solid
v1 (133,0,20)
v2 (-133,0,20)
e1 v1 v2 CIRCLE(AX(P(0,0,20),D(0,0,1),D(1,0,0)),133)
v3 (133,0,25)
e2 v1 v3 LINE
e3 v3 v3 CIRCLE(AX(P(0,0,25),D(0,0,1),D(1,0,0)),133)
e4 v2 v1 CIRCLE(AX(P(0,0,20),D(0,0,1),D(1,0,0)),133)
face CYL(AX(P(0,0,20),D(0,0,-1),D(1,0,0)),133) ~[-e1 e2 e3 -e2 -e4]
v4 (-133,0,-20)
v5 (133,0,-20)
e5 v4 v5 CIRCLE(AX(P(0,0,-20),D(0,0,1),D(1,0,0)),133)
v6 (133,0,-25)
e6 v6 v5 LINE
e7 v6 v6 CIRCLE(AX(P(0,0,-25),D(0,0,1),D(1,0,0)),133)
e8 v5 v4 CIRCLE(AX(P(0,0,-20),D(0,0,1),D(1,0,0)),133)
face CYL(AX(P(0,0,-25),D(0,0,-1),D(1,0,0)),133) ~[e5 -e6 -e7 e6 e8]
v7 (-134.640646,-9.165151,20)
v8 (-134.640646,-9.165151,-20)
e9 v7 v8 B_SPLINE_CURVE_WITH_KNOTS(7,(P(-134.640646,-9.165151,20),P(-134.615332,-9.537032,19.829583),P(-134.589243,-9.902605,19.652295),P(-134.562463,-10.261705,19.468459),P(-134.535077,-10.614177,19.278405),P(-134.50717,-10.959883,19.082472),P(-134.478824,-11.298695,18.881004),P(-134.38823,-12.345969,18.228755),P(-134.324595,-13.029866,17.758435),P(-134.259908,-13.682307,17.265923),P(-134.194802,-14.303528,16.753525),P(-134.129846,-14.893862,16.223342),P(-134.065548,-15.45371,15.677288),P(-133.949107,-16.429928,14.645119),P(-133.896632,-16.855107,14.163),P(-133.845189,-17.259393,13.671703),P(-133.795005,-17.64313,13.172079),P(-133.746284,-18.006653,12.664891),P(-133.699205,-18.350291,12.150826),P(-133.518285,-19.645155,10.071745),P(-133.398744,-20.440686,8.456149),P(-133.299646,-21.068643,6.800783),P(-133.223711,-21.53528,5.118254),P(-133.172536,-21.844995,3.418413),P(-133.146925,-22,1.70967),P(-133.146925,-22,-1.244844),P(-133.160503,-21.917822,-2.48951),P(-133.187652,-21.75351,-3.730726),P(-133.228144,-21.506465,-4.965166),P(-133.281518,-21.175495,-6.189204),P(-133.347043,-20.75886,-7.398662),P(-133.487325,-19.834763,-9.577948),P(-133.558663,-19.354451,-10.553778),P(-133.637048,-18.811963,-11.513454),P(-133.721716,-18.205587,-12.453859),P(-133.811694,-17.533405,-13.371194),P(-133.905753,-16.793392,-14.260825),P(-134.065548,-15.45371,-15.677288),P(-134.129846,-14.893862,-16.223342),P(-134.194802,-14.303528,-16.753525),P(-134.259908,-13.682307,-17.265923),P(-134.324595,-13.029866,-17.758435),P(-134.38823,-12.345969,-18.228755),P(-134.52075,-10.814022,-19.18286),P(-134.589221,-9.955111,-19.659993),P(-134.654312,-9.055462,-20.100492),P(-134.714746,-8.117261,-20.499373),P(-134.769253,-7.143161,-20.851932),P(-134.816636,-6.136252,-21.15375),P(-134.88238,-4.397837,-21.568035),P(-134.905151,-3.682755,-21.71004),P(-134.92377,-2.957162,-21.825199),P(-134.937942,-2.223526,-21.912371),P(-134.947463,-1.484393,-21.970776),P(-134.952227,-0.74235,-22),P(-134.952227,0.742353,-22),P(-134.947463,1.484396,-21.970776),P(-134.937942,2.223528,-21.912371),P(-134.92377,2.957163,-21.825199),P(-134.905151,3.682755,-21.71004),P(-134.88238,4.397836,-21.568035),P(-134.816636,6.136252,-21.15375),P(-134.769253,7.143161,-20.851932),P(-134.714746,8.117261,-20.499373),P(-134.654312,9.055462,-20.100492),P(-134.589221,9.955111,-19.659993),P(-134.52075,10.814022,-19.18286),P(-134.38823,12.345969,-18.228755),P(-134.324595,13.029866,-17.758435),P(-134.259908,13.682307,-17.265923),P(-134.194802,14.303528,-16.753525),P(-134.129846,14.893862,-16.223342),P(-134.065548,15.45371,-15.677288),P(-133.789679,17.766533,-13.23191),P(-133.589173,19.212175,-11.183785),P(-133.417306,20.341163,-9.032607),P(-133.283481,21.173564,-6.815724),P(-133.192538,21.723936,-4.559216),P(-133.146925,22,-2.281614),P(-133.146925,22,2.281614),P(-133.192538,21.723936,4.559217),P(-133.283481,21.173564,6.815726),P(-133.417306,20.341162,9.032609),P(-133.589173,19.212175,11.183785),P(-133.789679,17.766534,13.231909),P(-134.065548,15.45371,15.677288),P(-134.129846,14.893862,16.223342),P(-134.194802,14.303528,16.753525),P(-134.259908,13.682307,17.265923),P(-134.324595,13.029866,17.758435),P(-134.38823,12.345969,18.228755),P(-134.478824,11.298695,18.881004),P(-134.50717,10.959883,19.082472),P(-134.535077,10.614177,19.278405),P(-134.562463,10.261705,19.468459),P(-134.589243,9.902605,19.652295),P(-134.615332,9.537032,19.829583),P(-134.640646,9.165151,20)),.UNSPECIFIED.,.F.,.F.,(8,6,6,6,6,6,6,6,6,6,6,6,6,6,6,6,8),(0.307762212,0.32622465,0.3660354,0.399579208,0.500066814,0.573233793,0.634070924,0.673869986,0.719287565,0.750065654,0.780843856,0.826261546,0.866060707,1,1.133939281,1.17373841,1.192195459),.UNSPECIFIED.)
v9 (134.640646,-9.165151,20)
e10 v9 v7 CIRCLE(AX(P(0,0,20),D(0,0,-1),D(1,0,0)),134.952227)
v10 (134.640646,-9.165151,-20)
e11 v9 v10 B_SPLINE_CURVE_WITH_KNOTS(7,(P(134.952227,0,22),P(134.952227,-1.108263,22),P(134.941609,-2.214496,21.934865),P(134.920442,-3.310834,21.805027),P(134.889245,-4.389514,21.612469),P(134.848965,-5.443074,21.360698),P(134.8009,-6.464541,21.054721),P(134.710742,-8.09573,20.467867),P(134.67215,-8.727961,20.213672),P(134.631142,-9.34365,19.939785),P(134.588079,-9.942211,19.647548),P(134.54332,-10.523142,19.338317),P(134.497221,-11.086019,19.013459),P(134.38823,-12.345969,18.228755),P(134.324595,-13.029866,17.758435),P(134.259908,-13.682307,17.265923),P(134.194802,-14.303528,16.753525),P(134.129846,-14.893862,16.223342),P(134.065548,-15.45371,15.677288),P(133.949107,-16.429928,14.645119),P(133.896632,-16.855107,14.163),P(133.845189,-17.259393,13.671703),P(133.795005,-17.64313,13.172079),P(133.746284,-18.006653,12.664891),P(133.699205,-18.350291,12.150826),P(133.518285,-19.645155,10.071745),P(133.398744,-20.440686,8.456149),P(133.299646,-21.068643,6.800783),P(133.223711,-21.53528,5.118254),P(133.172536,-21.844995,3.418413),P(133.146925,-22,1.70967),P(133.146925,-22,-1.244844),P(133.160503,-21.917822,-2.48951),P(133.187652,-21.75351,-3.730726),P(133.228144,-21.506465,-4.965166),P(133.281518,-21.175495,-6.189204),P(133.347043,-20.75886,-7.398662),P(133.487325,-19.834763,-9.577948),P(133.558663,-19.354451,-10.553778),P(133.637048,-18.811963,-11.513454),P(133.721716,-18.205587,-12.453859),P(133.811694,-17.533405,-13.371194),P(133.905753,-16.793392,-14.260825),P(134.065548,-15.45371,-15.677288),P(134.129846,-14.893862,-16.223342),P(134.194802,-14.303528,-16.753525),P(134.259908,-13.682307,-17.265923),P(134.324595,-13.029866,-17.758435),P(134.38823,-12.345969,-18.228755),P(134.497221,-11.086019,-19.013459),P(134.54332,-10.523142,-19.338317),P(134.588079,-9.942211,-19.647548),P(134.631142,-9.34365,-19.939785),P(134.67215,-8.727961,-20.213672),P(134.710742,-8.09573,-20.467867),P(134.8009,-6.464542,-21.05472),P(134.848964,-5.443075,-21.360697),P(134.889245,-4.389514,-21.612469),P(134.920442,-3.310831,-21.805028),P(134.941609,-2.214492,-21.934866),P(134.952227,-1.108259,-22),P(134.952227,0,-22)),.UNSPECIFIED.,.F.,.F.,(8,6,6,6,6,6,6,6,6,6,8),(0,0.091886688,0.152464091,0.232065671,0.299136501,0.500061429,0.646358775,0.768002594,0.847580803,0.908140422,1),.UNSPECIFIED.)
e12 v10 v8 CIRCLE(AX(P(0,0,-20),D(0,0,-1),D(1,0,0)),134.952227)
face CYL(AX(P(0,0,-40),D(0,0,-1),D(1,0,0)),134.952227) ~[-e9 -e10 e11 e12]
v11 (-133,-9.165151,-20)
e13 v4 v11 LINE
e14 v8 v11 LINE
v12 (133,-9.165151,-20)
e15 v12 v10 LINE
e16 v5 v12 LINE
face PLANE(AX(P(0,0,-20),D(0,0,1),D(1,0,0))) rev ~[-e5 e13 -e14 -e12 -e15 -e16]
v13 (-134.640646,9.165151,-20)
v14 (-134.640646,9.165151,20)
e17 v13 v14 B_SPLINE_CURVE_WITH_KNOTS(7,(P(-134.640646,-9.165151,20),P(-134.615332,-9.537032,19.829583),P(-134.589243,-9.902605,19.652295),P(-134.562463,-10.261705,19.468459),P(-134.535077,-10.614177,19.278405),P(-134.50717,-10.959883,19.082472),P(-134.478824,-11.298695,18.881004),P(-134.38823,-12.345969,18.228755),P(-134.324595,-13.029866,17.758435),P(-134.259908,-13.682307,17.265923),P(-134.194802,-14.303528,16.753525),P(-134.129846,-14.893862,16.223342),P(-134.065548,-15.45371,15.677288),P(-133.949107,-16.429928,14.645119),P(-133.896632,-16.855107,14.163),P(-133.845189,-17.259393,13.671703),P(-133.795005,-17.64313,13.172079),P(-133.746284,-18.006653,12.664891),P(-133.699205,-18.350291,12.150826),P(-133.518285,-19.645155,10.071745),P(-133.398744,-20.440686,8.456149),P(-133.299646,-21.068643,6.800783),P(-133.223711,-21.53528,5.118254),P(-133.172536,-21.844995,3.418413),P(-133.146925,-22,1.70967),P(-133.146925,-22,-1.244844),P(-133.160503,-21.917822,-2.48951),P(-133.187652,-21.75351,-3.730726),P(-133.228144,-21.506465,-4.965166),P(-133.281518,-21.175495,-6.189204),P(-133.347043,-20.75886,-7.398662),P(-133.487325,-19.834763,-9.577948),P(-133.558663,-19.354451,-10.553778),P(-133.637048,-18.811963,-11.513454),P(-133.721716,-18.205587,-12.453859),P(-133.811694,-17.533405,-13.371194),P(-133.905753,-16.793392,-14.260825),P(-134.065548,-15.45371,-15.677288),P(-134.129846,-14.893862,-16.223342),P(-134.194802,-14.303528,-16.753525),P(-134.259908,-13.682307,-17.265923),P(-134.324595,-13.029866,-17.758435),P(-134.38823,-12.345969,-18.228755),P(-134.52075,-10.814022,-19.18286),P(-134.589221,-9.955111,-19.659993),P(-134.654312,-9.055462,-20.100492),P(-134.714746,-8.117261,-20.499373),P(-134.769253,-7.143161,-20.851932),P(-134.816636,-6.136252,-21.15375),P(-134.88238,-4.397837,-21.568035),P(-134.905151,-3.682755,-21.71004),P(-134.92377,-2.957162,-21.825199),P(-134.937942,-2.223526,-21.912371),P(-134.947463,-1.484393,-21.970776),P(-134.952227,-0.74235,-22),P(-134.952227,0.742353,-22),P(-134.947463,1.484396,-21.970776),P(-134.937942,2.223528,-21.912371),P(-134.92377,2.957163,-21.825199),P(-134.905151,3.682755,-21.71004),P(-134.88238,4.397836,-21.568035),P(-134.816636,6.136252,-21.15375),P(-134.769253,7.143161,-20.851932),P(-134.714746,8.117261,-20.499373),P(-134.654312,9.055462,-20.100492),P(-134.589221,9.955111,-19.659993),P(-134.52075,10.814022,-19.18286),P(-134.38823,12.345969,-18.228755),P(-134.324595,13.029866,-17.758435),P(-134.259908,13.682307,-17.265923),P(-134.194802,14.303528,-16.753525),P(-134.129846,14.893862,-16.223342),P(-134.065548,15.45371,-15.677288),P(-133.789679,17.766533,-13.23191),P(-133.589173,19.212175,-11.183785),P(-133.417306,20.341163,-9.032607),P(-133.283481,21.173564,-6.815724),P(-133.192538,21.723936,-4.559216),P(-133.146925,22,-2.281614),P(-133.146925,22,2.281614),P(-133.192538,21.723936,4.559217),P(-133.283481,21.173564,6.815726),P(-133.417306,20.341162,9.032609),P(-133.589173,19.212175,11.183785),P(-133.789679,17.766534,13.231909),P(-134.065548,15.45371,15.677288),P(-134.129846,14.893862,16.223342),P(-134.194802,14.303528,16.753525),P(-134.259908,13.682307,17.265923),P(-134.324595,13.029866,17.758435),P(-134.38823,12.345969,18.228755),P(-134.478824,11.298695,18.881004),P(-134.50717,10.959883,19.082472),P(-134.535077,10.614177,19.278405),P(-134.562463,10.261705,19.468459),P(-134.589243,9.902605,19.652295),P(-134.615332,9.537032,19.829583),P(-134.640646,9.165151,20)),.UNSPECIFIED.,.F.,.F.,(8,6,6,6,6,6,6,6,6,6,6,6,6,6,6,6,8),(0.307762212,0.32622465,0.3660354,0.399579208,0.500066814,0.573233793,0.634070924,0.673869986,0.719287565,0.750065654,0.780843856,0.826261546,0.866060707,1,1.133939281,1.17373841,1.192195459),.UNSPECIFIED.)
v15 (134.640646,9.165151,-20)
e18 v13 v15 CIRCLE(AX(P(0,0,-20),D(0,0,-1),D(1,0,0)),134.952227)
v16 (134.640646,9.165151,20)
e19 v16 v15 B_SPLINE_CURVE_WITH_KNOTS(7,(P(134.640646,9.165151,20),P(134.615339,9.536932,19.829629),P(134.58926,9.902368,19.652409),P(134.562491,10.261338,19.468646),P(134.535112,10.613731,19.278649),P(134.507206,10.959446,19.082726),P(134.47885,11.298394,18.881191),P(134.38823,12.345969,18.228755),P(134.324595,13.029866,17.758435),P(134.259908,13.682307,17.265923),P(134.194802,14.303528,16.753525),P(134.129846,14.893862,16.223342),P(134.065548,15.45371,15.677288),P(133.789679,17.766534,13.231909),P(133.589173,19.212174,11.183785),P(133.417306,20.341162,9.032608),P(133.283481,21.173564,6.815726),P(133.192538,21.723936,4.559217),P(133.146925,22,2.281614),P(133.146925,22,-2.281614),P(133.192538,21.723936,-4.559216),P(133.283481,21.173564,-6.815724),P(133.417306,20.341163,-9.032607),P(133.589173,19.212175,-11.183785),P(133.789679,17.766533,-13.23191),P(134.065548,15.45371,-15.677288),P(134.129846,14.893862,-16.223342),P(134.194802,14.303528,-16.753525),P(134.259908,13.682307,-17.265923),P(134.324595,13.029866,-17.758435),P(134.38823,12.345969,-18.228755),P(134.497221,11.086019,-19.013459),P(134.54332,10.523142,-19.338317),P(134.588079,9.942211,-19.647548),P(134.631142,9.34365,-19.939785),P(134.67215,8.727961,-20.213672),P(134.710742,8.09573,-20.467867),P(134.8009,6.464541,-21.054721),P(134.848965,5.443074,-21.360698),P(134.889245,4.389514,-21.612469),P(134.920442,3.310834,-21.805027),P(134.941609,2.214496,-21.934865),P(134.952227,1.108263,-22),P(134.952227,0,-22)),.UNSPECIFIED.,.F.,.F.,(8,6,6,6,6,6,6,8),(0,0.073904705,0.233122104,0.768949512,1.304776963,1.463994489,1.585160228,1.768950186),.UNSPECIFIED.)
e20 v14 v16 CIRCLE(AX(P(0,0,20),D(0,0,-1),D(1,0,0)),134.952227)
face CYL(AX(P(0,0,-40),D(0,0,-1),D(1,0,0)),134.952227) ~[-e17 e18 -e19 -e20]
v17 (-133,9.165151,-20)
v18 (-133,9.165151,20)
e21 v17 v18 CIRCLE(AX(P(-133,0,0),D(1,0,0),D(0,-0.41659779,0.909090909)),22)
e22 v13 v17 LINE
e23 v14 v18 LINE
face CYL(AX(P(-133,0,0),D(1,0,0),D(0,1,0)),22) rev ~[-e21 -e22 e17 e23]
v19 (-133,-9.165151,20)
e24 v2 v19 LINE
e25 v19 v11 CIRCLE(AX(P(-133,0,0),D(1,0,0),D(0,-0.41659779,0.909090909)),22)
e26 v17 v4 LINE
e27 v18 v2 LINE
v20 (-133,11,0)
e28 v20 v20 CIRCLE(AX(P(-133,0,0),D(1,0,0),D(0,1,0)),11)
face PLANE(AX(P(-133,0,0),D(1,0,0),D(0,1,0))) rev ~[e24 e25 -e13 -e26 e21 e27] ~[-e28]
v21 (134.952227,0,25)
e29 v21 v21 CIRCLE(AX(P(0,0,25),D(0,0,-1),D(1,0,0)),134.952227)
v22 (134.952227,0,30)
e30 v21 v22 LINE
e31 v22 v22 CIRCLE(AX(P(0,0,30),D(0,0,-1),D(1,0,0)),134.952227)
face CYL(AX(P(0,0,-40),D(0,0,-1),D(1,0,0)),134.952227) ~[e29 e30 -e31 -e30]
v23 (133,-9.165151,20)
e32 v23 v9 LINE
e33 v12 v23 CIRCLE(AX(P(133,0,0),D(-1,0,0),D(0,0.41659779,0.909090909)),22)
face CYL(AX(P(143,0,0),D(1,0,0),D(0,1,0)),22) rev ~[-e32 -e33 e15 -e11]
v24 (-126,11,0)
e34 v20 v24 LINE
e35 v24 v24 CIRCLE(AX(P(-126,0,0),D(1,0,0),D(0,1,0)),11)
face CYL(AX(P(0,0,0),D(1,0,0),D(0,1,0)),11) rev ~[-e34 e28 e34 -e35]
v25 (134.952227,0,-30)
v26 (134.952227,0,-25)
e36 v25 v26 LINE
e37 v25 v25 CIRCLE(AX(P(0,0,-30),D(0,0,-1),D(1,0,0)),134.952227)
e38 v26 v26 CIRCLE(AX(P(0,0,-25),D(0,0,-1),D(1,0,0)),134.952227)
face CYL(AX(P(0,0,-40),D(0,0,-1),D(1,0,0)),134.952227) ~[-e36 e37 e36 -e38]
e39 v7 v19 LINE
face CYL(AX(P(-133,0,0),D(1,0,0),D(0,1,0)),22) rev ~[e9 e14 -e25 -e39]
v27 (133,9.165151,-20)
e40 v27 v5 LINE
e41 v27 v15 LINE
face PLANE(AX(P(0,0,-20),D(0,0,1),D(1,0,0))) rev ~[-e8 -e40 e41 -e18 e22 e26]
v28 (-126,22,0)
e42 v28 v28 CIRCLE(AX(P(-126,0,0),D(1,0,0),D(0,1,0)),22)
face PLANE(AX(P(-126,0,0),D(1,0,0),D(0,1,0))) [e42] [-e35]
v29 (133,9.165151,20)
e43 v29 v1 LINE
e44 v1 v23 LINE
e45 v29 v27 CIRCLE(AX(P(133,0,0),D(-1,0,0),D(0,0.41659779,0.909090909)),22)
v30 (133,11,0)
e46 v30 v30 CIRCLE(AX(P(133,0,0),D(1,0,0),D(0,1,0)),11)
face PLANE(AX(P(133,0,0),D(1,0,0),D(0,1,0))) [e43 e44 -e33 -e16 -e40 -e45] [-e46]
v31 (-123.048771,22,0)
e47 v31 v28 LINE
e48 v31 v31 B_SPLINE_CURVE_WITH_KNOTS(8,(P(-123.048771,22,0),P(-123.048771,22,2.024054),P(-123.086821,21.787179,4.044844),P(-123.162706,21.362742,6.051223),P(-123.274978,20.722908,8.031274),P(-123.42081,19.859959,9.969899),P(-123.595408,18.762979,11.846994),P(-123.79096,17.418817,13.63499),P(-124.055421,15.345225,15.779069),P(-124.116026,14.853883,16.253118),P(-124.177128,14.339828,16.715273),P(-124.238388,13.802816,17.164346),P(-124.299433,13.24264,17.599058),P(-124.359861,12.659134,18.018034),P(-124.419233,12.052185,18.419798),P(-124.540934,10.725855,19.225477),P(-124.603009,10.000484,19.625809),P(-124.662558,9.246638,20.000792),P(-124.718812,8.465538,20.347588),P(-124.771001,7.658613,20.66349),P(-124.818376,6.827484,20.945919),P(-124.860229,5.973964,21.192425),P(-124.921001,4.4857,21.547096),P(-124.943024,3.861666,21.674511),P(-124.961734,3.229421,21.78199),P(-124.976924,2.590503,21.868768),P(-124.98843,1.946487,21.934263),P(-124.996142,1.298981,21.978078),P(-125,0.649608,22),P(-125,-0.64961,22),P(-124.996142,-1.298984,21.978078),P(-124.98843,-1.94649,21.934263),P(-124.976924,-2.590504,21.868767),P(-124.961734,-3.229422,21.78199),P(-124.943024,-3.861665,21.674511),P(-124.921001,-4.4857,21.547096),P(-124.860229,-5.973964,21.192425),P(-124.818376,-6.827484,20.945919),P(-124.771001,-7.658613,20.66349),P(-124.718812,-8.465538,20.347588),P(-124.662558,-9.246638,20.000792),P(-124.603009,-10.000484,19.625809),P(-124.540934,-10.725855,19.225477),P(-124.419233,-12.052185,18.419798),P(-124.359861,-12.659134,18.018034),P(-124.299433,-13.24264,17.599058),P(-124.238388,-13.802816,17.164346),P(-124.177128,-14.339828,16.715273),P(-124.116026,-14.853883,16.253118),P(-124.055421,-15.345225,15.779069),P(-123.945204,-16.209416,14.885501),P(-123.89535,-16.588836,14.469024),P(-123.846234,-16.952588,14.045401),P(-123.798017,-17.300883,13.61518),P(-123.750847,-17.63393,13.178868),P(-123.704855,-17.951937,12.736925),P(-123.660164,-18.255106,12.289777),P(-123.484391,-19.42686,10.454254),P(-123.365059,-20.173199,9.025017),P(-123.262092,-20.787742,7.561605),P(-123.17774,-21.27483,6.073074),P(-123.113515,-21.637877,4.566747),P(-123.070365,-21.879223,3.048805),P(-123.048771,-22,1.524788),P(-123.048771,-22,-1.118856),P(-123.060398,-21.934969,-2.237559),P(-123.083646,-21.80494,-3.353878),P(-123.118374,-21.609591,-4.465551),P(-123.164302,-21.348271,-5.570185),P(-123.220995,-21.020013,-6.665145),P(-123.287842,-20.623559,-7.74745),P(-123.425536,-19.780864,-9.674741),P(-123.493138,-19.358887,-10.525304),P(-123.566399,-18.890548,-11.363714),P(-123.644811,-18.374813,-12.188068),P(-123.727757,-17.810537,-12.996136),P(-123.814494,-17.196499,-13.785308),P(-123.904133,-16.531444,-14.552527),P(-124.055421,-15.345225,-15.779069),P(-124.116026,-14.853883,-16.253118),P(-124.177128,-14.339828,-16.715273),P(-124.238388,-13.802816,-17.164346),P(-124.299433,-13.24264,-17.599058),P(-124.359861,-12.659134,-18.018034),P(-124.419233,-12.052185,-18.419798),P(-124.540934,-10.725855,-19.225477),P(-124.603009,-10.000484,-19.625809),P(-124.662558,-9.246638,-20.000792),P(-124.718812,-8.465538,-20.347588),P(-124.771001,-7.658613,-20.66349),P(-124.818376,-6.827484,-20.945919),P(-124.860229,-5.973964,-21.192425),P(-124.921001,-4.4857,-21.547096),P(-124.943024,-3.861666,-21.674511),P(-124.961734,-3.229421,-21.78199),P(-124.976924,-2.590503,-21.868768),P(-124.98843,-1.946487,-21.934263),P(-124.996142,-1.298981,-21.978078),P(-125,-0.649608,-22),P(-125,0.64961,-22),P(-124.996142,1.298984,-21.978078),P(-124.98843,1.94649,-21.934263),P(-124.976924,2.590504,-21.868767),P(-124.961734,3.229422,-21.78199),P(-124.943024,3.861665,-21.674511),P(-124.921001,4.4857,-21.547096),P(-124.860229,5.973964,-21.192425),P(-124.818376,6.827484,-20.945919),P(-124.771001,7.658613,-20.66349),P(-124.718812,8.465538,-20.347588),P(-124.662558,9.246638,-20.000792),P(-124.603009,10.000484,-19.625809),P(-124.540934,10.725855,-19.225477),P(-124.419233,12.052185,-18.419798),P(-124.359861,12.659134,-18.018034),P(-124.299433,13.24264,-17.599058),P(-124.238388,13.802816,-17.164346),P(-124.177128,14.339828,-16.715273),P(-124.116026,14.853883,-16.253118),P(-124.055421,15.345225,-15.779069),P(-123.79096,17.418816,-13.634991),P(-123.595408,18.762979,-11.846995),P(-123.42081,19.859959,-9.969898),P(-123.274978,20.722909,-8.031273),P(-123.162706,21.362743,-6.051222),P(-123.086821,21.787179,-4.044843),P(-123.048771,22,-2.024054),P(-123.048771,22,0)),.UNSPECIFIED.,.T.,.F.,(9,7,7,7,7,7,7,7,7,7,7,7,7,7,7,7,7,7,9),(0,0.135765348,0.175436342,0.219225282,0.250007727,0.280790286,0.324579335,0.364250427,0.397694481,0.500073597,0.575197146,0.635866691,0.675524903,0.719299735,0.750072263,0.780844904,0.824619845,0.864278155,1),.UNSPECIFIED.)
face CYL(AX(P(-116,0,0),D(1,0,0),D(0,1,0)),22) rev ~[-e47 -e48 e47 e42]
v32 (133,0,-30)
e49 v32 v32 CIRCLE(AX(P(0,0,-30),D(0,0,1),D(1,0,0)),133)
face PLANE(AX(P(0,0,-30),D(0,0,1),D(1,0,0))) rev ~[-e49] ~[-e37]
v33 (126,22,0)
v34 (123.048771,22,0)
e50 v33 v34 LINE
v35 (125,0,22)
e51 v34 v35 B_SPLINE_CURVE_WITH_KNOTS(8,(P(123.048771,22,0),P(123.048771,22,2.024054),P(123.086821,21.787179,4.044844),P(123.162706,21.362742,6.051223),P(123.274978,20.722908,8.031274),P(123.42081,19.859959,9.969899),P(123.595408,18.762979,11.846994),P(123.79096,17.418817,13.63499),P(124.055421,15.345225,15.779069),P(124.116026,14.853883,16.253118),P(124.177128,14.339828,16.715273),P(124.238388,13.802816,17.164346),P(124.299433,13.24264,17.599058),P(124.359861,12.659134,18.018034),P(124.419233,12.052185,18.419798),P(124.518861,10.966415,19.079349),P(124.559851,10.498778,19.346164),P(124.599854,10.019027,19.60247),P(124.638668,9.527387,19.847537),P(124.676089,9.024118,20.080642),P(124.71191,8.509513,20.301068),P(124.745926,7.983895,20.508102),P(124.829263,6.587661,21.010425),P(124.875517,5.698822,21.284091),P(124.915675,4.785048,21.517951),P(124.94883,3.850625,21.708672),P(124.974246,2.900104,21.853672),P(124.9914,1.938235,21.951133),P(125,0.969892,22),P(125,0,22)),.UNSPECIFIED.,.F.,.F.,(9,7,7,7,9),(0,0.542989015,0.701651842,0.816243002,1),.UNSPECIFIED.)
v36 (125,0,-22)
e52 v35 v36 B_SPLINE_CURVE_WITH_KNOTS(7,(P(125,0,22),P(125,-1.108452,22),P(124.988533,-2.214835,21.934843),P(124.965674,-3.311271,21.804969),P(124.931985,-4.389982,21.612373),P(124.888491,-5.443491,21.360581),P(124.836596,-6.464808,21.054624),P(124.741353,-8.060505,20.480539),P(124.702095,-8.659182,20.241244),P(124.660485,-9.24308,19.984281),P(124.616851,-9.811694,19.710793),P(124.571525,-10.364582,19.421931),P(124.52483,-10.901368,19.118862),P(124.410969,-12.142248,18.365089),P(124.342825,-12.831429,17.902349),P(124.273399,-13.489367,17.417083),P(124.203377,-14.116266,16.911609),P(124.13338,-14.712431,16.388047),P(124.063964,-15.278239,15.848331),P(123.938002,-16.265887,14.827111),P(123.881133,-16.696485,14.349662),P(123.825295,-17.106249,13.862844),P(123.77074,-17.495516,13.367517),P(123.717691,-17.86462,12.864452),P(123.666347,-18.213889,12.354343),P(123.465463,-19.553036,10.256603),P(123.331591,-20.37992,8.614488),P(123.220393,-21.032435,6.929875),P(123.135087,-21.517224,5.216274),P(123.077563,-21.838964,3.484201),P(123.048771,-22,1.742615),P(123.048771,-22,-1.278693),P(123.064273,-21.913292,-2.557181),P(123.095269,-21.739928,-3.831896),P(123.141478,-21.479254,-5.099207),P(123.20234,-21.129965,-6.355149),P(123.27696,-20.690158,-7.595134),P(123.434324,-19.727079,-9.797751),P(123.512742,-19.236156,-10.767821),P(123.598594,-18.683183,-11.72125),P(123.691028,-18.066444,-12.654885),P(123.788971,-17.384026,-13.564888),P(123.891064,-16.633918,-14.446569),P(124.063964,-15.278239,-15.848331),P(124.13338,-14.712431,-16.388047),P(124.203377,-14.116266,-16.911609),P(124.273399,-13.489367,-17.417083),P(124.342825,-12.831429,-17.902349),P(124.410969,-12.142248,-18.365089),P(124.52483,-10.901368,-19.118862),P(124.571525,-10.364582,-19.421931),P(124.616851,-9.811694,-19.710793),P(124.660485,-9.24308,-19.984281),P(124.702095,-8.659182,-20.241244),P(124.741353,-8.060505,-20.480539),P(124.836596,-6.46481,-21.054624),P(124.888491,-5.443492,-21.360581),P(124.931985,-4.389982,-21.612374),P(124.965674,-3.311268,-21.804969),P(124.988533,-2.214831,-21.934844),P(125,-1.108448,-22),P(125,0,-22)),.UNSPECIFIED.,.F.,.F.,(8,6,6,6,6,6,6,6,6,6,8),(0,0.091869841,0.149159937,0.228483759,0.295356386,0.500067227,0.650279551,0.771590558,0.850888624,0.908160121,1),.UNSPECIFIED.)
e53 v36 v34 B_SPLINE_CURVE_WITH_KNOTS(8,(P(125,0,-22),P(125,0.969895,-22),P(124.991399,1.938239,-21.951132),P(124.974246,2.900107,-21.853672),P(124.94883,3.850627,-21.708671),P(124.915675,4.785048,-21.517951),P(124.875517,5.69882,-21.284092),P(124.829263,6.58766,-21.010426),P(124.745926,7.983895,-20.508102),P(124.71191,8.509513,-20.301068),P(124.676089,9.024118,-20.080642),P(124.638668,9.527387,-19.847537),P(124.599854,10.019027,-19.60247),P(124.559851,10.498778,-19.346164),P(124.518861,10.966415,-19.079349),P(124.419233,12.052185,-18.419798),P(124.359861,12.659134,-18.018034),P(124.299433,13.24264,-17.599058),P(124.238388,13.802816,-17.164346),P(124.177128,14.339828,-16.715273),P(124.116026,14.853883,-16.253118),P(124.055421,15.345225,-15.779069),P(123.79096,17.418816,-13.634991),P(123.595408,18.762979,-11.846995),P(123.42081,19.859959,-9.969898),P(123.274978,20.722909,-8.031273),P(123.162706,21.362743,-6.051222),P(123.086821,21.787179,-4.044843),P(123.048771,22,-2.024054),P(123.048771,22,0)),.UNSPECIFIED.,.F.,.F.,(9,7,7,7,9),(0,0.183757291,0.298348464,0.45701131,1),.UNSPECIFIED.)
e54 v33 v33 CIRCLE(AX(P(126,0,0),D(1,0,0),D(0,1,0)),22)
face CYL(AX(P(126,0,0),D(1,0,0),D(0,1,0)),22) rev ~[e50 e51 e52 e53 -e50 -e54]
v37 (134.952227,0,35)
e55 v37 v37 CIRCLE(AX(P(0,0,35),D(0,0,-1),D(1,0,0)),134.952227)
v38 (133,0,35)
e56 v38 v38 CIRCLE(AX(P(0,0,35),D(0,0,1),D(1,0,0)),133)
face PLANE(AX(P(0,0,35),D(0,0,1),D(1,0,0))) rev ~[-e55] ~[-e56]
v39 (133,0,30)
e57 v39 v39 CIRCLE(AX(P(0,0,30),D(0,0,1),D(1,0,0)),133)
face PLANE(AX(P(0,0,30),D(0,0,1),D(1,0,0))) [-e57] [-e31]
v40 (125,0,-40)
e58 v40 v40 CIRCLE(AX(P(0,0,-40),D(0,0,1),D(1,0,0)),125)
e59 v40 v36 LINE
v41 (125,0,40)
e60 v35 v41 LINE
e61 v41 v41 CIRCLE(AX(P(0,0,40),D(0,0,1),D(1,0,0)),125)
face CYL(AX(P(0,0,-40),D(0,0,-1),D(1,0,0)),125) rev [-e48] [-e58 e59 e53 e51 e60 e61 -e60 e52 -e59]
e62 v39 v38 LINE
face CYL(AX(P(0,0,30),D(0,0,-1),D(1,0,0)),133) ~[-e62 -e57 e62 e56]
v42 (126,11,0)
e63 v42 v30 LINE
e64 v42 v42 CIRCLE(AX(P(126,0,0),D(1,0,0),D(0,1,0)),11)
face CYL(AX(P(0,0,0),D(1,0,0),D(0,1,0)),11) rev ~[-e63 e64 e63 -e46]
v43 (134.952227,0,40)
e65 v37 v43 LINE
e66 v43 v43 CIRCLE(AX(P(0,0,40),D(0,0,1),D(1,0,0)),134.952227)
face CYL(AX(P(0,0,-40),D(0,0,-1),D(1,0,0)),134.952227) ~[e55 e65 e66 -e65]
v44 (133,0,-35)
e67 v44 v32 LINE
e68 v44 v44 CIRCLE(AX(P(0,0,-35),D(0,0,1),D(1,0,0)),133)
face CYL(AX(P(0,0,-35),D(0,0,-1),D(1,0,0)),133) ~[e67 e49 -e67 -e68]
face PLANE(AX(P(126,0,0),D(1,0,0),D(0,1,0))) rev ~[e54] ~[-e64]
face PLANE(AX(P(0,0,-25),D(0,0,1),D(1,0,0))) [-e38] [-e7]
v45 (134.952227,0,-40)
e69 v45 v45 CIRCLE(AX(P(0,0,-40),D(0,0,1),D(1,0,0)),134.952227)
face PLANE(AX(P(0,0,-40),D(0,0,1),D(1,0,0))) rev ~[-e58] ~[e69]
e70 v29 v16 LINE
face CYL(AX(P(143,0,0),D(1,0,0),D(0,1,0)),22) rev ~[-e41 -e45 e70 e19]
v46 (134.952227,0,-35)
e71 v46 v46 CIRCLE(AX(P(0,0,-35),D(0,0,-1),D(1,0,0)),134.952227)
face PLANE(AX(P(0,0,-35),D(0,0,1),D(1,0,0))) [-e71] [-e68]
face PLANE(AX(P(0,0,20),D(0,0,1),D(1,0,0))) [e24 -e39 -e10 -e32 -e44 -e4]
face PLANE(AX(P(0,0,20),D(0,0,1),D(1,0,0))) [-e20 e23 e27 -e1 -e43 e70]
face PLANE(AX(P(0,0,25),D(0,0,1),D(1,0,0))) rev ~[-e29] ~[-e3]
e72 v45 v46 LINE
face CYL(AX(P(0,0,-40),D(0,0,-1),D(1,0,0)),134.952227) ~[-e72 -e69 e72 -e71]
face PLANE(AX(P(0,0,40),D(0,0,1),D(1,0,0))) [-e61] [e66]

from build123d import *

# Parameters (mm, degrees)
SKETCH005_R      = 140.350312
SKETCH005_R_2    = 133
EXTRUDE011_DEPTH = 5
EXTRUDE010_DEPTH = 5
EXTRUDE008_DEPTH = 5
EXTRUDE009_DEPTH = 5
SKETCH004_R      = 157.293563
EXTRUDE007_DEPTH = 50
SKETCH003_R      = 22
EXTRUDE004_DEPTH = 10
EXTRUDE005_DEPTH = 10
EXTRUDE006_DEPTH = 10
EXTRUDE002_DEPTH = 10
SKETCH002_R      = 11
EXTRUDE_DEPTH    = 150
SKETCH_R         = 134.952227
SKETCH_R_2       = 125
EXTRUDE001_DEPTH = 80


with BuildPart() as extrude011:
    # Sketch005 → Extrude011 (new body)
    with BuildSketch(Plane.XY):
        Circle(SKETCH005_R)
        Circle(SKETCH005_R_2, mode=Mode.SUBTRACT)
    extrude(amount=EXTRUDE011_DEPTH)


with BuildPart() as extrude011_1:
    # Extrude011 placement: moved
    add(extrude011.part.moved(Location((0, 0, -35))))


with BuildPart() as extrude010:
    # Sketch005 → Extrude010 (new body)
    with BuildSketch(Plane.XY):
        Circle(SKETCH005_R)
        Circle(SKETCH005_R_2, mode=Mode.SUBTRACT)
    extrude(amount=EXTRUDE010_DEPTH)


with BuildPart() as extrude010_1:
    # Extrude010 placement: moved
    add(extrude010.part.moved(Location((0, 0, -25))))


with BuildPart() as extrude008:
    # Sketch005 → Extrude008 (new body)
    with BuildSketch(Plane.XY):
        Circle(SKETCH005_R)
        Circle(SKETCH005_R_2, mode=Mode.SUBTRACT)
    extrude(amount=EXTRUDE008_DEPTH)


with BuildPart() as extrude008_1:
    # Extrude008 placement: moved
    add(extrude008.part.moved(Location((0, 0, 20))))


with BuildPart() as extrude009:
    # Sketch005 → Extrude009 (new body)
    with BuildSketch(Plane.XY):
        Circle(SKETCH005_R)
        Circle(SKETCH005_R_2, mode=Mode.SUBTRACT)
    extrude(amount=EXTRUDE009_DEPTH)


with BuildPart() as extrude009_1:
    # Extrude009 placement: moved
    add(extrude009.part.moved(Location((0, 0, 30))))


with BuildPart() as extrude007:
    # Sketch004 → Extrude007 (new body)
    with BuildSketch(Plane.XY):
        Circle(SKETCH004_R)
    extrude(amount=EXTRUDE007_DEPTH)


with BuildPart() as extrude007_1:
    # Extrude007 placement: moved
    add(extrude007.part.moved(Location((0, 0, 51))))


with BuildPart() as extrude004:
    # Sketch003 (on Face3 of Extrude) → Extrude004 (new body)
    with BuildSketch(Plane.YZ.offset(150)):
        Circle(SKETCH003_R)
    extrude(amount=-EXTRUDE004_DEPTH)


with BuildPart() as extrude004_1:
    # Extrude004 placement: moved
    add(extrude004.part.moved(Location((-283, 0, 0))))


with BuildPart() as extrude005:
    # Sketch003 (on Face3 of Extrude) → Extrude005 (new body)
    with BuildSketch(Plane.YZ.offset(150)):
        Circle(SKETCH003_R)
    extrude(amount=-EXTRUDE005_DEPTH)


with BuildPart() as extrude005_1:
    # Extrude005 placement: moved
    add(extrude005.part.moved(Location((-266, 0, 0))))


with BuildPart() as extrude006:
    # Sketch003 (on Face3 of Extrude) → Extrude006 (new body)
    with BuildSketch(Plane.YZ.offset(150)):
        Circle(SKETCH003_R)
    extrude(amount=-EXTRUDE006_DEPTH)


with BuildPart() as extrude006_1:
    # Extrude006 placement: moved
    add(extrude006.part.moved(Location((-24, 0, 0))))


with BuildPart() as extrude002:
    # Sketch003 (on Face3 of Extrude) → Extrude002 (new body)
    with BuildSketch(Plane.YZ.offset(150)):
        Circle(SKETCH003_R)
    extrude(amount=-EXTRUDE002_DEPTH)


with BuildPart() as extrude002_1:
    # Extrude002 placement: moved
    add(extrude002.part.moved(Location((-7, 0, 0))))


with BuildPart() as extrude_body:
    # Sketch002 → Extrude (new body, symmetric)
    with BuildSketch(Plane.YZ):
        Circle(SKETCH002_R)
    extrude(amount=EXTRUDE_DEPTH, both=True)


with BuildPart() as cut009:
    # Sketch → Extrude001 (new body)
    with BuildSketch(Plane.XY):
        Circle(SKETCH_R)
        Circle(SKETCH_R_2, mode=Mode.SUBTRACT)
    extrude(amount=EXTRUDE001_DEPTH)


with BuildPart() as cut009_1:
    # Extrude001 placement: moved
    add(cut009.part.moved(Location((0, 0, -40))))

    # Cut: cut Extrude body
    add(extrude_body.part, mode=Mode.SUBTRACT)

    # Cut001: cut Extrude002
    add(extrude002_1.part, mode=Mode.SUBTRACT)

    # Cut002: cut Extrude006
    add(extrude006_1.part, mode=Mode.SUBTRACT)

    # Cut003: cut Extrude005
    add(extrude005_1.part, mode=Mode.SUBTRACT)

    # Cut004: cut Extrude004
    add(extrude004_1.part, mode=Mode.SUBTRACT)

    # Cut005: cut Extrude007
    add(extrude007_1.part, mode=Mode.SUBTRACT)

    # Cut006: cut Extrude009
    add(extrude009_1.part, mode=Mode.SUBTRACT)

    # Cut007: cut Extrude008
    add(extrude008_1.part, mode=Mode.SUBTRACT)

    # Cut008: cut Extrude010
    add(extrude010_1.part, mode=Mode.SUBTRACT)

    # Cut009: cut Extrude011
    add(extrude011_1.part, mode=Mode.SUBTRACT)


solid = cut009_1.part
